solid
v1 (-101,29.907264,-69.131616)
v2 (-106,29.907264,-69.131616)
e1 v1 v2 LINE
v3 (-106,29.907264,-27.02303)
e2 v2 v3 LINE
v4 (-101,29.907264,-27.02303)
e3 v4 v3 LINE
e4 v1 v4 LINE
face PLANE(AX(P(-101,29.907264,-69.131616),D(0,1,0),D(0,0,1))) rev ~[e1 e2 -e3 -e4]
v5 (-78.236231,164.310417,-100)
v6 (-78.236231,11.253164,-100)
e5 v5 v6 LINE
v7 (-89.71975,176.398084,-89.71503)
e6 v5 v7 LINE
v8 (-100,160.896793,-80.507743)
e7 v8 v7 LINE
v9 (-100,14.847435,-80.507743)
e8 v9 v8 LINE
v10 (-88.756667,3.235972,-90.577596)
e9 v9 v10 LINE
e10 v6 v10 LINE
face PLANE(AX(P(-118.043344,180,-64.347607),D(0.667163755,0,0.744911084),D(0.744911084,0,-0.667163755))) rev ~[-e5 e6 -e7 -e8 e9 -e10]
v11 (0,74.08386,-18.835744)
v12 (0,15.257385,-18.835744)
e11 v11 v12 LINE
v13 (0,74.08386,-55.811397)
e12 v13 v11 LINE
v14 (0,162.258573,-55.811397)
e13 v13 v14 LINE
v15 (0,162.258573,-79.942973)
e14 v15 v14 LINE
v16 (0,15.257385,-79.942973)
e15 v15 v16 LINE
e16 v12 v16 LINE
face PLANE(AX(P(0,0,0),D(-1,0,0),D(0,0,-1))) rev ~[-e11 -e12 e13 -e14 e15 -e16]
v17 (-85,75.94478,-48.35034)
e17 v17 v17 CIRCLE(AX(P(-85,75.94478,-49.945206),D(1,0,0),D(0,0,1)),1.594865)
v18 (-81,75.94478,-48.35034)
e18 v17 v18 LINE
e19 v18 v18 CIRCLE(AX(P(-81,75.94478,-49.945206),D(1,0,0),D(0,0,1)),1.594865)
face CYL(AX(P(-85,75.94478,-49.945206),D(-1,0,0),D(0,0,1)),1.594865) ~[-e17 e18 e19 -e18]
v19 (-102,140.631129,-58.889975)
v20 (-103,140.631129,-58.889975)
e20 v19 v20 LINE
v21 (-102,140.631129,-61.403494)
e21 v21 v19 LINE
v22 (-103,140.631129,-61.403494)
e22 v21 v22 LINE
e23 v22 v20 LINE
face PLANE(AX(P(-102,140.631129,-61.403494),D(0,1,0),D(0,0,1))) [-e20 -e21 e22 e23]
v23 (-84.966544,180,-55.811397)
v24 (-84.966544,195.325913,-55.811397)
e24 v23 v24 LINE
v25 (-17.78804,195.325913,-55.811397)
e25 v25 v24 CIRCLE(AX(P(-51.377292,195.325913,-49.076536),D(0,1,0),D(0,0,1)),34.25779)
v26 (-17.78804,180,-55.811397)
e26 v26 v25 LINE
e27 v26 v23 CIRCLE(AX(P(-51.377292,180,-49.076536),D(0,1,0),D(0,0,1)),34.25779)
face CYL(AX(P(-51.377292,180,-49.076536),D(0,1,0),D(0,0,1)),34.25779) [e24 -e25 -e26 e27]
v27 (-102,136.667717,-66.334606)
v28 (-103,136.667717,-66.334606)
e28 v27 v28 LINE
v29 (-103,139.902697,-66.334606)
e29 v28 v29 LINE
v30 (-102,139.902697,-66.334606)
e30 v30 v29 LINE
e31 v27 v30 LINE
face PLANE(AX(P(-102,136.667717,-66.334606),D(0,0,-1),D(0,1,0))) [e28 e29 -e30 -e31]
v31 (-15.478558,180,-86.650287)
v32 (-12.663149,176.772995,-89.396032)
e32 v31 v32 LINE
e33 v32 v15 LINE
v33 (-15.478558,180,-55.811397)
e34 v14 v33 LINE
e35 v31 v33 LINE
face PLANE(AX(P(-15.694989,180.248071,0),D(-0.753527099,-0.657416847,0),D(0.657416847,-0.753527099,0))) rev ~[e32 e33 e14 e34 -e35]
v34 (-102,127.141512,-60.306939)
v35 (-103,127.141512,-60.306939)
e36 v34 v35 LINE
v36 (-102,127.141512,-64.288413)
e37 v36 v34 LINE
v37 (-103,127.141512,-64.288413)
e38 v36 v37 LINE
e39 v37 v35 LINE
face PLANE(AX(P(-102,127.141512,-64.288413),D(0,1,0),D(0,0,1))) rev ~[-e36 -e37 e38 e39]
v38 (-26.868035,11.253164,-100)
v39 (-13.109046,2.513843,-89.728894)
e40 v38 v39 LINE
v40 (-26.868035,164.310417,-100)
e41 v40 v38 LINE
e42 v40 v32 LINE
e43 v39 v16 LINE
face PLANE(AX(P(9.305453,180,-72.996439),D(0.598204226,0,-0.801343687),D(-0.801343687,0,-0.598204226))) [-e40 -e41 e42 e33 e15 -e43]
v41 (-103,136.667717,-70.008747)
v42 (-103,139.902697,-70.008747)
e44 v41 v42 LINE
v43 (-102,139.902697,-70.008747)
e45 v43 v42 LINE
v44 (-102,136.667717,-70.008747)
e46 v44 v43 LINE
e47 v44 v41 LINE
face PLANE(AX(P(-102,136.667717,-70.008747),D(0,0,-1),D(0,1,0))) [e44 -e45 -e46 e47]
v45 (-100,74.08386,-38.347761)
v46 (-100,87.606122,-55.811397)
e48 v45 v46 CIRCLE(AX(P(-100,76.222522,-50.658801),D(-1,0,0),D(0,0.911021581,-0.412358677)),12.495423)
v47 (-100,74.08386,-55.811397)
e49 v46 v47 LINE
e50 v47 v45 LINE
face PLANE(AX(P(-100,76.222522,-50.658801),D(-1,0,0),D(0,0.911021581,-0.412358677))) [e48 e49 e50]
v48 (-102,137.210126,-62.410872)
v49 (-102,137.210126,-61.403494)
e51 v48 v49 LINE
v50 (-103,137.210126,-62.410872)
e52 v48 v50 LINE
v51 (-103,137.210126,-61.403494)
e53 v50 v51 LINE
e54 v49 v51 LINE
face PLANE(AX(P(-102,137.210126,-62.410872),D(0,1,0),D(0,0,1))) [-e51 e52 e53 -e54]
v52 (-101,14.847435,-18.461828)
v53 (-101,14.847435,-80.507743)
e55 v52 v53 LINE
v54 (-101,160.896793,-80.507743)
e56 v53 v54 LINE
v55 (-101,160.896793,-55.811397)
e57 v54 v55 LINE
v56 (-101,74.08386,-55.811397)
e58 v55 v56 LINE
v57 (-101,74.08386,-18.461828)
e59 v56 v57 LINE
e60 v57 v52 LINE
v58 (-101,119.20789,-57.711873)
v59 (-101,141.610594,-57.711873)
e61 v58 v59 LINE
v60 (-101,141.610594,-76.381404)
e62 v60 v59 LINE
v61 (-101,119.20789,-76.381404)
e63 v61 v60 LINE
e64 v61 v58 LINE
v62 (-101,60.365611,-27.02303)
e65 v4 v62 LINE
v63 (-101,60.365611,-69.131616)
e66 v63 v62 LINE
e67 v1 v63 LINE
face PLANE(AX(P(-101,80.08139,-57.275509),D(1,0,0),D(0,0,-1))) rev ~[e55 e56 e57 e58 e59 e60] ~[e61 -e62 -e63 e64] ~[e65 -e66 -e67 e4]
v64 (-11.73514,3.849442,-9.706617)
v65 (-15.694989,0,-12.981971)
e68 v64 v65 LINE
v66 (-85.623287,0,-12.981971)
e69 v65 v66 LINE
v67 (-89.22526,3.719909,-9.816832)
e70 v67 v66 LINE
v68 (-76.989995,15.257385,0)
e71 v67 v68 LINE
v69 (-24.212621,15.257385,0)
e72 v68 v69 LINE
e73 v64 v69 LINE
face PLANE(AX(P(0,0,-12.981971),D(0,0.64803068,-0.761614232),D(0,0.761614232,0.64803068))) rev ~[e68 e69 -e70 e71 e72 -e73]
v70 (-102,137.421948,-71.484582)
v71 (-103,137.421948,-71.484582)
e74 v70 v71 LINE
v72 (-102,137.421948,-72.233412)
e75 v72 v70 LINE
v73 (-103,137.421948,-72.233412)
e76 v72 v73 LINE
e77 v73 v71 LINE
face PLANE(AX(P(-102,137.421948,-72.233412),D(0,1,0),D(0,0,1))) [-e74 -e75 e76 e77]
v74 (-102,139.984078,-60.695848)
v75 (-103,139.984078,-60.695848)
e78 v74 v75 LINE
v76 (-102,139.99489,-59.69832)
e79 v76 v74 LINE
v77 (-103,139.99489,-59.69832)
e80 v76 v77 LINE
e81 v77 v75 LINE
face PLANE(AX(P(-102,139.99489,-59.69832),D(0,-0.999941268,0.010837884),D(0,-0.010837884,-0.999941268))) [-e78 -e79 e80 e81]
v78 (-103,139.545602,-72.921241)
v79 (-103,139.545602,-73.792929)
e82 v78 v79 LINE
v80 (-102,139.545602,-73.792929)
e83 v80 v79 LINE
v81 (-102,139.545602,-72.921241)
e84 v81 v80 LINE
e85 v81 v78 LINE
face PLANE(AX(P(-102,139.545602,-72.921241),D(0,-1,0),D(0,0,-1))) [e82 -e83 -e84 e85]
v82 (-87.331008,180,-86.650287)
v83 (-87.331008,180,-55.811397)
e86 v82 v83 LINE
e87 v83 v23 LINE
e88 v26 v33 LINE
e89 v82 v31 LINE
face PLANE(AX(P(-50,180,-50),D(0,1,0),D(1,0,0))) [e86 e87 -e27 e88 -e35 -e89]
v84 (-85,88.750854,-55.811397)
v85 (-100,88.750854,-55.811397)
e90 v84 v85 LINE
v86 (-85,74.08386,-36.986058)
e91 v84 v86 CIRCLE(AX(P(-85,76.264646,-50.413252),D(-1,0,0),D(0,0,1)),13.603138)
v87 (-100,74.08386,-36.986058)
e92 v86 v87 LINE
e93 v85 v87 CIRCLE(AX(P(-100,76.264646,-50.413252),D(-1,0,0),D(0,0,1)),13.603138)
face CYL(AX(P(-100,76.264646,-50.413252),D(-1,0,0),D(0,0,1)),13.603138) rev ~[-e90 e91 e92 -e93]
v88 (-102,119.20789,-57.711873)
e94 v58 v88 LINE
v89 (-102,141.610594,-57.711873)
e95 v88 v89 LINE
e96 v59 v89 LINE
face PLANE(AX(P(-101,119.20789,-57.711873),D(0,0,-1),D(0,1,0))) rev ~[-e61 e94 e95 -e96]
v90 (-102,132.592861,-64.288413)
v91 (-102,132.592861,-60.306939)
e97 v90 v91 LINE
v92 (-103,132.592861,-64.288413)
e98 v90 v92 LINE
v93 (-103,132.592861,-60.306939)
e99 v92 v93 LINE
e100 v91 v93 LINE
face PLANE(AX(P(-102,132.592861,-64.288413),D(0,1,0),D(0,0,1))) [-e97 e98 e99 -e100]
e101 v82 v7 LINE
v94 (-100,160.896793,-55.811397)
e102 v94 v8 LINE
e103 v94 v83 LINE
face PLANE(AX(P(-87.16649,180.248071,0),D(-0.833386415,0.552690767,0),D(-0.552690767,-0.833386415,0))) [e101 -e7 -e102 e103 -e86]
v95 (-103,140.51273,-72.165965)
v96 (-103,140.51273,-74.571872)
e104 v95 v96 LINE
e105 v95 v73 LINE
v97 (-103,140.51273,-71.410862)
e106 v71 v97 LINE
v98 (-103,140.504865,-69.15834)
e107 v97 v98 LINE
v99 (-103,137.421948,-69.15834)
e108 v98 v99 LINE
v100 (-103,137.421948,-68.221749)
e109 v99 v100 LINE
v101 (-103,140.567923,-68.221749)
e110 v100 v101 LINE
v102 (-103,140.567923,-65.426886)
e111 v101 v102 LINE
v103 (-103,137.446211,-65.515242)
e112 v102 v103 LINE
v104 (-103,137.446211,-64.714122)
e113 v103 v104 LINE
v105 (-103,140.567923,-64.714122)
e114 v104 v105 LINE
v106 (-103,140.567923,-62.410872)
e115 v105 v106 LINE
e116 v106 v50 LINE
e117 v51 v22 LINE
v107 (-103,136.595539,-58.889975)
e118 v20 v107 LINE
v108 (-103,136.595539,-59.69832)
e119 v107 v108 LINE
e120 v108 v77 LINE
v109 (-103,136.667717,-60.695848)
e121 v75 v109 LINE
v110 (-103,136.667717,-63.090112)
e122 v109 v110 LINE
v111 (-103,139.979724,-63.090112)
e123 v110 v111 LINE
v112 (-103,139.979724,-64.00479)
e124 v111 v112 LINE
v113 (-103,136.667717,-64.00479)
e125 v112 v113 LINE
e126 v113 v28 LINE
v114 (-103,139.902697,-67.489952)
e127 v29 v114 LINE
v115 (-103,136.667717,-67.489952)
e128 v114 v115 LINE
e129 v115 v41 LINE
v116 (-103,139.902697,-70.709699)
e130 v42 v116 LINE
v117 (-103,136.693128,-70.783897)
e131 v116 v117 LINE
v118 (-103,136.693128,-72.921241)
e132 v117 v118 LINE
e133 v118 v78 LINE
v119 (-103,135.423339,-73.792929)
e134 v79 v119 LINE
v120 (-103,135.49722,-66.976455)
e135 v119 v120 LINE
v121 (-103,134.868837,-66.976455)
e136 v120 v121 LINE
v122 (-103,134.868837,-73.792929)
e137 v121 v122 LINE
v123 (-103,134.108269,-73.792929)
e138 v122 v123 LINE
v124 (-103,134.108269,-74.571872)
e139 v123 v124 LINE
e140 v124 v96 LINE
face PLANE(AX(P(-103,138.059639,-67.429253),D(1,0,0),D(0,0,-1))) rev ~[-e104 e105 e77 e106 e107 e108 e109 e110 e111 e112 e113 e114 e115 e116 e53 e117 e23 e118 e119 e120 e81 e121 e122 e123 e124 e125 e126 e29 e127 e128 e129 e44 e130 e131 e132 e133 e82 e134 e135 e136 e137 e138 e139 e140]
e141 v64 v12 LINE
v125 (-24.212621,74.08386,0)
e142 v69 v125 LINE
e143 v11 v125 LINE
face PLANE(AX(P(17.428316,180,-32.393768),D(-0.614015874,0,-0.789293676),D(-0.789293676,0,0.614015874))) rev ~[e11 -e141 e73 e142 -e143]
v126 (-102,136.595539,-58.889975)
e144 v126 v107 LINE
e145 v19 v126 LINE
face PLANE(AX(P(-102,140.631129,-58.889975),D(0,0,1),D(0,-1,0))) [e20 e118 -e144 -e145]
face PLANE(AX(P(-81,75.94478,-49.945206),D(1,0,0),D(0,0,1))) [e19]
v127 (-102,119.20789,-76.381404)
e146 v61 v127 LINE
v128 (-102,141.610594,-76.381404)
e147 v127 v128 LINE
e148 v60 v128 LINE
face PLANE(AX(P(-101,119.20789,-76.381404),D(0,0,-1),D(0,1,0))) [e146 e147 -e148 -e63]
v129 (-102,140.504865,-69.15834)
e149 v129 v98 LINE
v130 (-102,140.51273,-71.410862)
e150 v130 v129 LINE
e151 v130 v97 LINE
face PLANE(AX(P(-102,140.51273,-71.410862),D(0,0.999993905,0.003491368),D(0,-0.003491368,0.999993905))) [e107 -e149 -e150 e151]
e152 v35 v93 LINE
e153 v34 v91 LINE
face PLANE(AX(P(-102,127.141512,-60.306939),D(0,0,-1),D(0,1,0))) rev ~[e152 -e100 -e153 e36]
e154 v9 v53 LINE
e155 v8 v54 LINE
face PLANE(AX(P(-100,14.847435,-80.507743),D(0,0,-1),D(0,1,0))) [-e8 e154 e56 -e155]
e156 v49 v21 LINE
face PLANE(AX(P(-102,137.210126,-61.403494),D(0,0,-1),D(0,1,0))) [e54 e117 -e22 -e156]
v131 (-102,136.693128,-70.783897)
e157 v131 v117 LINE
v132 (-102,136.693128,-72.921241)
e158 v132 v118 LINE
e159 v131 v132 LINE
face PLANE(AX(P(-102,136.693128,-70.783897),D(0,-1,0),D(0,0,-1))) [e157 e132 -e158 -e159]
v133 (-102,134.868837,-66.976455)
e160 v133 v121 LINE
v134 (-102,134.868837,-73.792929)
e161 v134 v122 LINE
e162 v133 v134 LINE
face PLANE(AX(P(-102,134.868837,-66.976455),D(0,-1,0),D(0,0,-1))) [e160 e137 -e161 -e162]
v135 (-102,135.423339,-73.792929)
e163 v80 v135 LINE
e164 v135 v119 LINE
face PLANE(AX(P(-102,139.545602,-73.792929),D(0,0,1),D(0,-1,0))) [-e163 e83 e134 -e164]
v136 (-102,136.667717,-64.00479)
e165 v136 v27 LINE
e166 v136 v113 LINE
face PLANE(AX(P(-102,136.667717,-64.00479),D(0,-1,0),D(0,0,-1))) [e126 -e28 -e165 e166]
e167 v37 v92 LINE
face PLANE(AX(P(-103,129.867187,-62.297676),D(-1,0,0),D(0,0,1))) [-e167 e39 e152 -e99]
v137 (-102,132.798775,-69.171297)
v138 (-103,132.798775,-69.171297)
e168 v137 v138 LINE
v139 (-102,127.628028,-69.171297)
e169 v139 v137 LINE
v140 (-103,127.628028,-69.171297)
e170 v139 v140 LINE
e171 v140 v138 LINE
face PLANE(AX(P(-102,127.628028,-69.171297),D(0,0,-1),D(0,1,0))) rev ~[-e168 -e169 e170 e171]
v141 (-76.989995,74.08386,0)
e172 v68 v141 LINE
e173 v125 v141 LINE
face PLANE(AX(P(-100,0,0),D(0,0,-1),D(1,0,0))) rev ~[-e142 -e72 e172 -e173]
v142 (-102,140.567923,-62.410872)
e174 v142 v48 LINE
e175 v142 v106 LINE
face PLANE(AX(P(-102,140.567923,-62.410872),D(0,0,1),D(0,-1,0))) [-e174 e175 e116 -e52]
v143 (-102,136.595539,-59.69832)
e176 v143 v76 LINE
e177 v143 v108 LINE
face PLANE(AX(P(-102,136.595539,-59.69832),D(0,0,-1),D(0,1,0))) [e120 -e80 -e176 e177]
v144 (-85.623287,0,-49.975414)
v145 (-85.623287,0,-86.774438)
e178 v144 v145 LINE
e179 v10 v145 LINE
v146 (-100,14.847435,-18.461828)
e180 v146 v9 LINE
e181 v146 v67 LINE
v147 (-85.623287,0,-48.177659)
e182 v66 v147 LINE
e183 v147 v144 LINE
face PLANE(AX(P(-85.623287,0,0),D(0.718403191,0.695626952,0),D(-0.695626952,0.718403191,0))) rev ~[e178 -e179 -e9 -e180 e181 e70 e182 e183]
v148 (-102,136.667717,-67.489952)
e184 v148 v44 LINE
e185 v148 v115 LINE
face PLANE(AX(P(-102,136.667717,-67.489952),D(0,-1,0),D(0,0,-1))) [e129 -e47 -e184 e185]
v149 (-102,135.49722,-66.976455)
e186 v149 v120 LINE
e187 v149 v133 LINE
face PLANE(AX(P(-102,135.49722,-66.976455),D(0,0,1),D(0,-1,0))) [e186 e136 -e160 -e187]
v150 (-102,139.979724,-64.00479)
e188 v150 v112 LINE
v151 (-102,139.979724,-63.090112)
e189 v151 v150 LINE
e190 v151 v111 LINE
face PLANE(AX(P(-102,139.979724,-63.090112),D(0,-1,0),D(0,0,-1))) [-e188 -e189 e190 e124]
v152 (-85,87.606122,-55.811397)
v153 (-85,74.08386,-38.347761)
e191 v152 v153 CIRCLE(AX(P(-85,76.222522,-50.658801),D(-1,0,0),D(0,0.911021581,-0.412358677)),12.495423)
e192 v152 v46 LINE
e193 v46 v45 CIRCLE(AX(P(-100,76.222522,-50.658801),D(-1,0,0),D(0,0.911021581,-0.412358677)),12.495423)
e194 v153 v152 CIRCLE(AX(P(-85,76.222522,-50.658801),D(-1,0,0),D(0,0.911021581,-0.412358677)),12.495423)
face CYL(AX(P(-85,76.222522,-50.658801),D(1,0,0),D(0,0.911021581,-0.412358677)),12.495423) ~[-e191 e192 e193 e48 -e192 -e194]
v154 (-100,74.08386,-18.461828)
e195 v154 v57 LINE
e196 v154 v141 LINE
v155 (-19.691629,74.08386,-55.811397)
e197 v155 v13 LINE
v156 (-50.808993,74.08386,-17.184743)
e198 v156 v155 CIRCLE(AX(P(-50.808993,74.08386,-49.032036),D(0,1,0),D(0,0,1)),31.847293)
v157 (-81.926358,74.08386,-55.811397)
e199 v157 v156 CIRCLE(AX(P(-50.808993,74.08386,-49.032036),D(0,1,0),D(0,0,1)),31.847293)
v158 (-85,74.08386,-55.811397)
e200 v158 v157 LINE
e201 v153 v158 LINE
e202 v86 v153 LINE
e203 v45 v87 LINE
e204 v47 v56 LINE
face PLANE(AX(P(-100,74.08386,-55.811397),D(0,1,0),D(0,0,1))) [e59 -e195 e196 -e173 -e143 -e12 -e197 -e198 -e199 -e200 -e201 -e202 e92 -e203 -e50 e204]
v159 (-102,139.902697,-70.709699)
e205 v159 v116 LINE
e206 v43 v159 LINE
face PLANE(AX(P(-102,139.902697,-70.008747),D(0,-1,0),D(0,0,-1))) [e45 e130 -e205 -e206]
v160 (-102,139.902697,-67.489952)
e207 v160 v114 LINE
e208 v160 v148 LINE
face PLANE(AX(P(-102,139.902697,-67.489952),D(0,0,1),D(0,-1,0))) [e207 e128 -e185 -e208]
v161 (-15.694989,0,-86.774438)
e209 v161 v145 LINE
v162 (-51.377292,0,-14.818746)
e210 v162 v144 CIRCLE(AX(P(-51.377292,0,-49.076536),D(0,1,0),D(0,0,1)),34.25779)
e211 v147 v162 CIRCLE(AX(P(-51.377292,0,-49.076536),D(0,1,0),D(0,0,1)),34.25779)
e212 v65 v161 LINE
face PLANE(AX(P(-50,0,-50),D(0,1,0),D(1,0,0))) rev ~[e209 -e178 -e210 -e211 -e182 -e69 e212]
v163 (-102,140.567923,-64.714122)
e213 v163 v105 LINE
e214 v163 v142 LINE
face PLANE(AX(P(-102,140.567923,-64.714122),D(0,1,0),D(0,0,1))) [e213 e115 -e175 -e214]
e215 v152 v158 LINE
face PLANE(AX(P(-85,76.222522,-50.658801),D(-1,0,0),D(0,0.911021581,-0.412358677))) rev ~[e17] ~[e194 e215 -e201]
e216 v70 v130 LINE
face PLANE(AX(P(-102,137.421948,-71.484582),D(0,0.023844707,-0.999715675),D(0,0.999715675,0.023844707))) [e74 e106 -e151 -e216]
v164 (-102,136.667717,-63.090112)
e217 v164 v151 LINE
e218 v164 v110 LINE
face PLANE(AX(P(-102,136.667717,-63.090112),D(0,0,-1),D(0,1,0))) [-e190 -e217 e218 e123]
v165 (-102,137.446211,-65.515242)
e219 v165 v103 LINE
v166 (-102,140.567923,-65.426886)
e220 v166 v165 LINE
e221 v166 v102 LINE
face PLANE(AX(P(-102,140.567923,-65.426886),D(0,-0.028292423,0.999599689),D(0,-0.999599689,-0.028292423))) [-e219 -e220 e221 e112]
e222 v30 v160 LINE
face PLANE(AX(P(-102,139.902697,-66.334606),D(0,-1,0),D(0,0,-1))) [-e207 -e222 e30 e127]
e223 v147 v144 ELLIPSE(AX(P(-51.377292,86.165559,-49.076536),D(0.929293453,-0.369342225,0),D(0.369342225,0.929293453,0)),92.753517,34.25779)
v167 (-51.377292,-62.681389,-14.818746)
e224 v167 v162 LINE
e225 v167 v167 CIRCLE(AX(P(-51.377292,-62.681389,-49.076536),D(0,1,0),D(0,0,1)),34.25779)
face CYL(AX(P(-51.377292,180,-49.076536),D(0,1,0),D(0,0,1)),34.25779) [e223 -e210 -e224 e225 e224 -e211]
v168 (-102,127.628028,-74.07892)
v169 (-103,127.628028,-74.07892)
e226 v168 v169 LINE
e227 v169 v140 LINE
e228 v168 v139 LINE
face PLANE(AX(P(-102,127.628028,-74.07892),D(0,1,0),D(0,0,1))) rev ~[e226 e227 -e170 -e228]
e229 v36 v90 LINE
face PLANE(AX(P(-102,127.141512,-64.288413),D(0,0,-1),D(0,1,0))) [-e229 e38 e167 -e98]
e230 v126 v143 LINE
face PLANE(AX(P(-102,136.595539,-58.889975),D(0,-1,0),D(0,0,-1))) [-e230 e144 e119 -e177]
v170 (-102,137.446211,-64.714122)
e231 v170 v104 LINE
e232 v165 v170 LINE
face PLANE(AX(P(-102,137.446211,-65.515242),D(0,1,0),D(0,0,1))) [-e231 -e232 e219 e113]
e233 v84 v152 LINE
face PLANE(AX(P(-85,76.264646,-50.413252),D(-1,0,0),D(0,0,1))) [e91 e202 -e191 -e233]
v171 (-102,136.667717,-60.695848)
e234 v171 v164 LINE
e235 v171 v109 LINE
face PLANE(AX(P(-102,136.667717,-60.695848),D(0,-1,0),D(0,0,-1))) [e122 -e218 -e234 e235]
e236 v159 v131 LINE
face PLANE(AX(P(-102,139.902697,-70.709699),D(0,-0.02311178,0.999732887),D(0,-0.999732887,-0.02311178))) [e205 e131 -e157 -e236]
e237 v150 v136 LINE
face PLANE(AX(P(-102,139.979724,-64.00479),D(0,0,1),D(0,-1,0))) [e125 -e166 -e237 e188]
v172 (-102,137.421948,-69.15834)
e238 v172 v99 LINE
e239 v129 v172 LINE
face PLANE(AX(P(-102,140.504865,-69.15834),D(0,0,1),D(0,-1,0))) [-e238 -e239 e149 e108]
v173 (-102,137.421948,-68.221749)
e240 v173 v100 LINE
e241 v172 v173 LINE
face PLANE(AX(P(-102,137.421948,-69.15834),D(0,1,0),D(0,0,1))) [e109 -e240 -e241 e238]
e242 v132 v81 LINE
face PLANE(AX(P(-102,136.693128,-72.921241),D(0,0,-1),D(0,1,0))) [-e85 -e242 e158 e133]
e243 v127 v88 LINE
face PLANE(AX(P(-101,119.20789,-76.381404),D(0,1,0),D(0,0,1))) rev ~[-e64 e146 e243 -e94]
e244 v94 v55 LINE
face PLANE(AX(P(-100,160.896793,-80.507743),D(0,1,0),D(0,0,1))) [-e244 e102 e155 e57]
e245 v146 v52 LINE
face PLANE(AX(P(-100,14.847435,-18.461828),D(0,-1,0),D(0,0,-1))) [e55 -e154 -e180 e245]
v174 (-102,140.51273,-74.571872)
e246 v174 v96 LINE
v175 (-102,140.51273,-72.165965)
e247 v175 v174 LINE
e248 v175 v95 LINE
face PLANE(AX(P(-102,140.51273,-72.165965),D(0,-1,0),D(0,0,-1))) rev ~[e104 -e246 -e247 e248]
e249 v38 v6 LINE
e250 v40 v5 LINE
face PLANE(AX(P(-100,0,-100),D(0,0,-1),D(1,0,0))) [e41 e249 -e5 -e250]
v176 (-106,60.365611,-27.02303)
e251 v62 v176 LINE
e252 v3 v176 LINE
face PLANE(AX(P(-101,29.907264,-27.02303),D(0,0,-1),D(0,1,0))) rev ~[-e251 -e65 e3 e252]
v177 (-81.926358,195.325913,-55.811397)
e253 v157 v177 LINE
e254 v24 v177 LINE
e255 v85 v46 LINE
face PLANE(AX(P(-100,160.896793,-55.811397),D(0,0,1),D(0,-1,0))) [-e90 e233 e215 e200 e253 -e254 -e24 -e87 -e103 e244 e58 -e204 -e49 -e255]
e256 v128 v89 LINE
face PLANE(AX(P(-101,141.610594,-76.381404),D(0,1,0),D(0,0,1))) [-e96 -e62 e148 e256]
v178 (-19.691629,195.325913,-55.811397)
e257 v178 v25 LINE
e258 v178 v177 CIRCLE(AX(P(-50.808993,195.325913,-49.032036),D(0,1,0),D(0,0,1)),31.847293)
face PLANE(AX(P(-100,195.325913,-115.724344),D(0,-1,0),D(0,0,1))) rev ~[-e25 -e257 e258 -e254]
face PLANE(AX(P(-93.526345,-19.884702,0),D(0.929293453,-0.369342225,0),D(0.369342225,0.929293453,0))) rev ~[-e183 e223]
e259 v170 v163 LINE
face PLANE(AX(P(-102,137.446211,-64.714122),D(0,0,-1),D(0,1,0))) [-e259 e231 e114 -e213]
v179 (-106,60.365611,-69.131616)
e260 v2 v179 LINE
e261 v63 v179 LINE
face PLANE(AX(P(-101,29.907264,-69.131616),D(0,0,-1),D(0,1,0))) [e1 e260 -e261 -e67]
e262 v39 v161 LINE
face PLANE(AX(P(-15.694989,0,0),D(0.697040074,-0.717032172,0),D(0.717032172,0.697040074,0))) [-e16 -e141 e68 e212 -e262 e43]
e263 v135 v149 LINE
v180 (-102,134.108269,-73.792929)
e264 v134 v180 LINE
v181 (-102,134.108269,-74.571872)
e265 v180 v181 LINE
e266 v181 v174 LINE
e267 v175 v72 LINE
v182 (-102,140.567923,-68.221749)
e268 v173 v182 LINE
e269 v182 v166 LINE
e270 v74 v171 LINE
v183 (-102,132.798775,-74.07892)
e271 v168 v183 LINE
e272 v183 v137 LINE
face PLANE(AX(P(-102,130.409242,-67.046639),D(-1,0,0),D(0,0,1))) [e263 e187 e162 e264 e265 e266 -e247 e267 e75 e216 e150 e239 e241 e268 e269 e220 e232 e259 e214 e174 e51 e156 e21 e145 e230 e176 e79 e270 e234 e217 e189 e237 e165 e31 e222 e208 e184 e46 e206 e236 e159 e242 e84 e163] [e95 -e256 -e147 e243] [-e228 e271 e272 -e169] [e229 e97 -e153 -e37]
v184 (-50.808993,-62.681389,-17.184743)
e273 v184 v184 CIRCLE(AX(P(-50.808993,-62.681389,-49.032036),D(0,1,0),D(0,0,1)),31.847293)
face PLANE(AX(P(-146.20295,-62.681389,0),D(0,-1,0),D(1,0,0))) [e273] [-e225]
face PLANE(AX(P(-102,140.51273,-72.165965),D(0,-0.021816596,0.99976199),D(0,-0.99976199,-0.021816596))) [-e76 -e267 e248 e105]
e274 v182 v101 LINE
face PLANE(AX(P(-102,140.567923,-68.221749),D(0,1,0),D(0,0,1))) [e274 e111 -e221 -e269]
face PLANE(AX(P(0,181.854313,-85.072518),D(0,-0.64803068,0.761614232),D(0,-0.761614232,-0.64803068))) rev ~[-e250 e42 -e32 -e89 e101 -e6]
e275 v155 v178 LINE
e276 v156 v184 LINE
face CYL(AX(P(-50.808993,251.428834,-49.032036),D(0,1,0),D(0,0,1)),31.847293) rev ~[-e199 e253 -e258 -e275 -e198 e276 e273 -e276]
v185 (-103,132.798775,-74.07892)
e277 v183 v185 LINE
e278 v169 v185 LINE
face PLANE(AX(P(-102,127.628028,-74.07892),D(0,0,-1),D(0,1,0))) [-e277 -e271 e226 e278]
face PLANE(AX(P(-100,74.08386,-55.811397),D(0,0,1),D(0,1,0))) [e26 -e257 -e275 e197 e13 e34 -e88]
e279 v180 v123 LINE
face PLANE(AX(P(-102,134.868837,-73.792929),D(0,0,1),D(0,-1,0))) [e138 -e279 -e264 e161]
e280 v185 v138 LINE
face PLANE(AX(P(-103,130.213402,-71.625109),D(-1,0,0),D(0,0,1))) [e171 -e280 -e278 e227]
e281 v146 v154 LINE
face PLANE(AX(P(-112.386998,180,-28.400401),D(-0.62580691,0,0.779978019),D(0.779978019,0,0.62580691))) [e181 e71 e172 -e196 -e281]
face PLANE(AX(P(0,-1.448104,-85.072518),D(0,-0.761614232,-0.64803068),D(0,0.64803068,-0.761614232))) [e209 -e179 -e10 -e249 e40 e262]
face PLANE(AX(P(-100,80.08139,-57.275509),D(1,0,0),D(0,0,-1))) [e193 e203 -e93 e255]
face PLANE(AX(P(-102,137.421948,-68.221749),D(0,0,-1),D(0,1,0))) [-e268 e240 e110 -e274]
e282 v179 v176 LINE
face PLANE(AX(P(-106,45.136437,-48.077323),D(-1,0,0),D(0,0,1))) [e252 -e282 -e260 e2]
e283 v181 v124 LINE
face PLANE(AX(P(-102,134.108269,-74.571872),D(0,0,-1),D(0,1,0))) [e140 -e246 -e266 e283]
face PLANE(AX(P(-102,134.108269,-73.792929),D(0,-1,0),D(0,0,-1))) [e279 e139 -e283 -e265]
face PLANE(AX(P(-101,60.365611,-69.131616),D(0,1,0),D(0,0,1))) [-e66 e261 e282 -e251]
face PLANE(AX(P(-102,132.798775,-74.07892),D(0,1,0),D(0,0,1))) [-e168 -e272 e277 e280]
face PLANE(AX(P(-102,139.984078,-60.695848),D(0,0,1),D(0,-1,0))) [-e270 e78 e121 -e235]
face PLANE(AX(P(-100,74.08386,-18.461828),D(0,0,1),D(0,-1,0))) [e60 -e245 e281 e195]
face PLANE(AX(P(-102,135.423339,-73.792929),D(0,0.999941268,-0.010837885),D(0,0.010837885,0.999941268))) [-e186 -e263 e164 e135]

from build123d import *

# Parameters (mm, degrees)
SKETCH1_W           = 100
SKETCH1_H           = 100
BOSS_EXTRUDE1_DEPTH = 180
SKETCH2_R           = 34.257790197
BOSS_EXTRUDE2_DEPTH = 350
SKETCH3_W           = 152.006357392
SKETCH3_H           = 282.452416457
CUT_EXTRUDE2_DEPTH  = 400
CUT_EXTRUDE3_DEPTH  = 400
CUT_EXTRUDE4_DEPTH  = 400
CUT_EXTRUDE5_DEPTH  = 400
SKETCH7_W           = 160.159381639
SKETCH7_H           = 147.362276113
CUT_EXTRUDE6_DEPTH  = 400
SKETCH8_W           = 147.310744502
SKETCH8_H           = 162.038906966
CUT_EXTRUDE7_DEPTH  = 400
SKETCH9_R           = 31.847293423
CUT_EXTRUDE8_DEPTH  = 400
SKETCH10_W          = 140.220962397
SKETCH10_H          = 212.033531124
CUT_EXTRUDE9_DEPTH  = 400
SKETCH11_R          = 13.603137886
CUT_EXTRUDE11_DEPTH = 15
SKETCH12_R          = 12.495422516
BOSS_EXTRUDE3_DEPTH = 15
SKETCH13_R          = 1.594865099
BOSS_EXTRUDE4_DEPTH = 4
SKETCH14_W          = 100.74862993
SKETCH14_H          = 110.555003588
CUT_EXTRUDE13_DEPTH = 400
BOSS_EXTRUDE5_DEPTH = 1
SKETCH16_W          = 42.108585165
SKETCH16_H          = 30.458347221
BOSS_EXTRUDE6_DEPTH = 5
SKETCH17_W          = 18.669530869
SKETCH17_H          = 22.4027039
BOSS_EXTRUDE7_DEPTH = 1
SKETCH18_W          = 4.907623399
SKETCH18_H          = 5.170746831
SKETCH18_W_2        = 3.981473695
SKETCH18_H_2        = 5.451349552
BOSS_EXTRUDE8_DEPTH = 1
BOSS_EXTRUDE9_DEPTH = 1


with BuildPart() as part:
    # Sketch1 → Boss-Extrude1 (new body)
    with BuildSketch(Plane(origin=(0, 0, 0), x_dir=(1, 0, 0), z_dir=(0, 1, 0))):
        with Locations((-50, 50)):
            Rectangle(SKETCH1_W, SKETCH1_H)
    extrude(amount=BOSS_EXTRUDE1_DEPTH)

    # Sketch2 → Boss-Extrude2 (add, symmetric)
    with BuildSketch(Plane(origin=(0, 180, 0), x_dir=(1, 0, 0), z_dir=(0, 1, 0))):
        with Locations(Location((-51.377291833, 49.076536384, 0), (0, 0, 270))):
            Circle(SKETCH2_R)
    extrude(amount=BOSS_EXTRUDE2_DEPTH, both=True)

    # Sketch3 → Cut-Extrude2 (cut)
    with BuildSketch(Plane(origin=(0, 0, 0), x_dir=(0, 0, -1), z_dir=(1, 0, 0))):
        with Locations((57.419900112, 502.274302507)):
            Rectangle(SKETCH3_W, SKETCH3_H)
    extrude(amount=-CUT_EXTRUDE2_DEPTH, mode=Mode.SUBTRACT)

    # Sketch4 → Cut-Extrude3 (cut)
    with BuildSketch(Plane(origin=(0, 0, 0), x_dir=(0, 0, -1), z_dir=(1, 0, 0))):
        Polygon((12.981970869, 0), (-8.994244796, 25.828096003), (-18.564506014, -15.259465835), align=None)
        Polygon((85.072517936, -1.448103984), (109.237639161, 19.113145112), (115.920034239, -3.267382694), align=None)
        Polygon((12.981970869, 180), (-8.994244796, 148.537596011), (-15.418178585, 193.219274892), align=None)
        Polygon((85.072517936, 181.854312784), (103.841225373, 159.795920888), (106.132549481, 198.647393934), align=None)
    extrude(amount=-CUT_EXTRUDE3_DEPTH, mode=Mode.SUBTRACT)

    # Sketch5 → Cut-Extrude4 (cut)
    with BuildSketch(Plane.XY):
        Polygon((-85.623287335, 0), (-106.370377984, 21.426392531), (-122.288861874, 3.209259887), (-93.526345261, -19.884701759), align=None)
        Polygon((-15.694988751, 0), (0, 15.257385304), (12.122677088, 15.257385304), (10.563067769, -19.884701759), align=None)
        Polygon((-87.166490339, 180.248071029), (-106.370377984, 151.29108453), (-117.705469457, 200.501115102), align=None)
        Polygon((-15.694988751, 180.248071029), (7.833767065, 153.279557508), (0, 193.941208308), align=None)
    extrude(amount=-CUT_EXTRUDE4_DEPTH, mode=Mode.SUBTRACT)

    # Sketch6 → Cut-Extrude5 (cut)
    with BuildSketch(Plane(origin=(0, 180, 0), x_dir=(1, 0, 0), z_dir=(0, 1, 0))):
        Polygon((-112.386997555, 28.400400964), (-64.261264503, -10.212759359), (-84.406366528, -15.51192827), (-124.649689542, -15.51192827), align=None)
        Polygon((-97.065537028, 135.861756084), (-119.37552445, 77.792688888), (-118.043343626, 64.347606737), (-66.428694172, 110.575168787), align=None)
        Polygon((-24.69640689, -21.815840769), (11.092108798, -8.97361337), (17.428316417, 32.393768119), (-38.531576846, -11.139157378), align=None)
        Polygon((-17.445484601, 140.804394854), (35.417473102, 107.262520599), (9.305452855, 72.996438725), (-31.724385352, 103.625272537), align=None)
    extrude(amount=-CUT_EXTRUDE5_DEPTH, mode=Mode.SUBTRACT)

    # Sketch7 → Cut-Extrude6 (cut)
    with BuildSketch(Plane.XY):
        with Locations((-66.123258915, -136.36252694)):
            Rectangle(SKETCH7_W, SKETCH7_H)
    extrude(amount=-CUT_EXTRUDE6_DEPTH, mode=Mode.SUBTRACT)

    # Sketch8 → Cut-Extrude7 (cut)
    with BuildSketch(Plane.XY):
        with Locations((-53.541153336, 332.448287589)):
            Rectangle(SKETCH8_W, SKETCH8_H)
    extrude(amount=-CUT_EXTRUDE7_DEPTH, mode=Mode.SUBTRACT)

    # Sketch9 → Cut-Extrude8 (cut)
    with BuildSketch(Plane(origin=(0, 251.428834106, 0), x_dir=(1, 0, 0), z_dir=(0, 1, 0))):
        with Locations(Location((-50.808993157, 49.032036374, 0), (0, 0, 270))):
            Circle(SKETCH9_R)
    extrude(amount=-CUT_EXTRUDE8_DEPTH, mode=Mode.SUBTRACT)

    # Sketch10 → Cut-Extrude9 (cut)
    with BuildSketch(Plane.ZY.offset(100)):
        with Locations((14.299084536, 180.100625535)):
            Rectangle(SKETCH10_W, SKETCH10_H)
    extrude(amount=-CUT_EXTRUDE9_DEPTH, mode=Mode.SUBTRACT)

    # Sketch11 → Cut-Extrude11 (cut)
    with BuildSketch(Plane.ZY.offset(100)):
        with Locations((-50.413251954, 76.264646142)):
            Circle(SKETCH11_R)
    extrude(amount=-CUT_EXTRUDE11_DEPTH, mode=Mode.SUBTRACT)

    # Sketch12 → Boss-Extrude3 (add)
    with BuildSketch(Plane.ZY.offset(85)):
        with Locations(Location((-50.658800768, 76.222522328, 0), (0, 0, 114.353089558))):
            Circle(SKETCH12_R)
    extrude(amount=BOSS_EXTRUDE3_DEPTH)

    # Sketch13 → Boss-Extrude4 (add)
    with BuildSketch(Plane(origin=(-85, 0, 0), x_dir=(0, 0, -1), z_dir=(1, 0, 0))):
        with Locations(Location((49.945205578, 75.944780088, 0), (0, 0, 180))):
            Circle(SKETCH13_R)
    extrude(amount=BOSS_EXTRUDE4_DEPTH)

    # Sketch14 → Cut-Extrude13 (cut)
    with BuildSketch(Plane.ZY.offset(100)):
        with Locations((-65.350029467, 250.603414818)):
            Rectangle(SKETCH14_W, SKETCH14_H)
    extrude(amount=-CUT_EXTRUDE13_DEPTH, mode=Mode.SUBTRACT)

    # Sketch15 → Boss-Extrude5 (add)
    with BuildSketch(Plane.ZY.offset(100)):
        Polygon((-18.461827727, 14.847435435), (-80.507743362, 14.847435435), (-80.507743362, 160.896793159), (-55.811396663, 160.896793159), (-55.811396663, 74.083859973), (-18.461827727, 74.083859973), align=None)
    extrude(amount=BOSS_EXTRUDE5_DEPTH)

    # Sketch16 → Boss-Extrude6 (add)
    with BuildSketch(Plane.ZY.offset(101)):
        with Locations((-48.07732297, 45.136437142)):
            Rectangle(SKETCH16_W, SKETCH16_H)
    extrude(amount=BOSS_EXTRUDE6_DEPTH)

    # Sketch17 → Boss-Extrude7 (add)
    with BuildSketch(Plane.ZY.offset(101)):
        with Locations((-67.04663872, 130.409241603)):
            Rectangle(SKETCH17_W, SKETCH17_H)
    extrude(amount=BOSS_EXTRUDE7_DEPTH)

    # Sketch18 → Boss-Extrude8 (add)
    with BuildSketch(Plane.ZY.offset(102)):
        with Locations((-71.625108618, 130.213401885)):
            Rectangle(SKETCH18_W, SKETCH18_H)
        with Locations((-62.297675883, 129.867186512)):
            Rectangle(SKETCH18_W_2, SKETCH18_H_2)
    extrude(amount=BOSS_EXTRUDE8_DEPTH)

    # Sketch19 → Boss-Extrude9 (add)
    with BuildSketch(Plane.ZY.offset(102)):
        Polygon((-66.976455081, 134.868836652), (-73.7929295, 134.868836652), (-73.7929295, 134.108269479), (-74.571872104, 134.108269479), (-74.571872104, 140.512729543), (-73.7929295, 140.512729543), (-72.165965418, 140.512729543), (-72.233411796, 137.421948277), (-71.48458153, 137.421948277), (-71.410861795, 140.512729543), (-69.158339735, 140.504865112), (-69.158339735, 137.421948277), (-68.22174926, 137.421948277), (-68.22174926, 140.567922793), (-65.426885805, 140.567922793), (-65.515241968, 137.446210948), (-64.714122339, 137.446210948), (-64.714122339, 140.567922793), (-62.410871788, 140.567922793), (-62.410871788, 137.210126003), (-61.403493639, 137.210126003), (-61.403493639, 140.631129361), (-58.889974549, 140.631129361), (-58.889974549, 136.595539338), (-59.698319644, 136.595539338), (-59.698319644, 139.99489006), (-60.695848378, 139.984078324), (-60.695848378, 136.667717235), (-63.090112056, 136.667717235), (-63.090112056, 139.979723883), (-64.00479018, 139.979723883), (-64.00479018, 136.667717235), (-66.334605538, 136.667717235), (-66.334605538, 139.902697072), (-67.48995239, 139.902697072), (-67.48995239, 136.667717235), (-70.008746759, 136.667717235), (-70.008746759, 139.902697072), (-70.709698815, 139.902697072), (-70.783897489, 136.693128041), (-72.921241048, 136.693128041), (-72.921241048, 139.545601992), (-73.7929295, 139.545601992), (-73.7929295, 135.423339258), (-66.976455081, 135.49721976), align=None)
    extrude(amount=BOSS_EXTRUDE9_DEPTH)


solid = part.part
